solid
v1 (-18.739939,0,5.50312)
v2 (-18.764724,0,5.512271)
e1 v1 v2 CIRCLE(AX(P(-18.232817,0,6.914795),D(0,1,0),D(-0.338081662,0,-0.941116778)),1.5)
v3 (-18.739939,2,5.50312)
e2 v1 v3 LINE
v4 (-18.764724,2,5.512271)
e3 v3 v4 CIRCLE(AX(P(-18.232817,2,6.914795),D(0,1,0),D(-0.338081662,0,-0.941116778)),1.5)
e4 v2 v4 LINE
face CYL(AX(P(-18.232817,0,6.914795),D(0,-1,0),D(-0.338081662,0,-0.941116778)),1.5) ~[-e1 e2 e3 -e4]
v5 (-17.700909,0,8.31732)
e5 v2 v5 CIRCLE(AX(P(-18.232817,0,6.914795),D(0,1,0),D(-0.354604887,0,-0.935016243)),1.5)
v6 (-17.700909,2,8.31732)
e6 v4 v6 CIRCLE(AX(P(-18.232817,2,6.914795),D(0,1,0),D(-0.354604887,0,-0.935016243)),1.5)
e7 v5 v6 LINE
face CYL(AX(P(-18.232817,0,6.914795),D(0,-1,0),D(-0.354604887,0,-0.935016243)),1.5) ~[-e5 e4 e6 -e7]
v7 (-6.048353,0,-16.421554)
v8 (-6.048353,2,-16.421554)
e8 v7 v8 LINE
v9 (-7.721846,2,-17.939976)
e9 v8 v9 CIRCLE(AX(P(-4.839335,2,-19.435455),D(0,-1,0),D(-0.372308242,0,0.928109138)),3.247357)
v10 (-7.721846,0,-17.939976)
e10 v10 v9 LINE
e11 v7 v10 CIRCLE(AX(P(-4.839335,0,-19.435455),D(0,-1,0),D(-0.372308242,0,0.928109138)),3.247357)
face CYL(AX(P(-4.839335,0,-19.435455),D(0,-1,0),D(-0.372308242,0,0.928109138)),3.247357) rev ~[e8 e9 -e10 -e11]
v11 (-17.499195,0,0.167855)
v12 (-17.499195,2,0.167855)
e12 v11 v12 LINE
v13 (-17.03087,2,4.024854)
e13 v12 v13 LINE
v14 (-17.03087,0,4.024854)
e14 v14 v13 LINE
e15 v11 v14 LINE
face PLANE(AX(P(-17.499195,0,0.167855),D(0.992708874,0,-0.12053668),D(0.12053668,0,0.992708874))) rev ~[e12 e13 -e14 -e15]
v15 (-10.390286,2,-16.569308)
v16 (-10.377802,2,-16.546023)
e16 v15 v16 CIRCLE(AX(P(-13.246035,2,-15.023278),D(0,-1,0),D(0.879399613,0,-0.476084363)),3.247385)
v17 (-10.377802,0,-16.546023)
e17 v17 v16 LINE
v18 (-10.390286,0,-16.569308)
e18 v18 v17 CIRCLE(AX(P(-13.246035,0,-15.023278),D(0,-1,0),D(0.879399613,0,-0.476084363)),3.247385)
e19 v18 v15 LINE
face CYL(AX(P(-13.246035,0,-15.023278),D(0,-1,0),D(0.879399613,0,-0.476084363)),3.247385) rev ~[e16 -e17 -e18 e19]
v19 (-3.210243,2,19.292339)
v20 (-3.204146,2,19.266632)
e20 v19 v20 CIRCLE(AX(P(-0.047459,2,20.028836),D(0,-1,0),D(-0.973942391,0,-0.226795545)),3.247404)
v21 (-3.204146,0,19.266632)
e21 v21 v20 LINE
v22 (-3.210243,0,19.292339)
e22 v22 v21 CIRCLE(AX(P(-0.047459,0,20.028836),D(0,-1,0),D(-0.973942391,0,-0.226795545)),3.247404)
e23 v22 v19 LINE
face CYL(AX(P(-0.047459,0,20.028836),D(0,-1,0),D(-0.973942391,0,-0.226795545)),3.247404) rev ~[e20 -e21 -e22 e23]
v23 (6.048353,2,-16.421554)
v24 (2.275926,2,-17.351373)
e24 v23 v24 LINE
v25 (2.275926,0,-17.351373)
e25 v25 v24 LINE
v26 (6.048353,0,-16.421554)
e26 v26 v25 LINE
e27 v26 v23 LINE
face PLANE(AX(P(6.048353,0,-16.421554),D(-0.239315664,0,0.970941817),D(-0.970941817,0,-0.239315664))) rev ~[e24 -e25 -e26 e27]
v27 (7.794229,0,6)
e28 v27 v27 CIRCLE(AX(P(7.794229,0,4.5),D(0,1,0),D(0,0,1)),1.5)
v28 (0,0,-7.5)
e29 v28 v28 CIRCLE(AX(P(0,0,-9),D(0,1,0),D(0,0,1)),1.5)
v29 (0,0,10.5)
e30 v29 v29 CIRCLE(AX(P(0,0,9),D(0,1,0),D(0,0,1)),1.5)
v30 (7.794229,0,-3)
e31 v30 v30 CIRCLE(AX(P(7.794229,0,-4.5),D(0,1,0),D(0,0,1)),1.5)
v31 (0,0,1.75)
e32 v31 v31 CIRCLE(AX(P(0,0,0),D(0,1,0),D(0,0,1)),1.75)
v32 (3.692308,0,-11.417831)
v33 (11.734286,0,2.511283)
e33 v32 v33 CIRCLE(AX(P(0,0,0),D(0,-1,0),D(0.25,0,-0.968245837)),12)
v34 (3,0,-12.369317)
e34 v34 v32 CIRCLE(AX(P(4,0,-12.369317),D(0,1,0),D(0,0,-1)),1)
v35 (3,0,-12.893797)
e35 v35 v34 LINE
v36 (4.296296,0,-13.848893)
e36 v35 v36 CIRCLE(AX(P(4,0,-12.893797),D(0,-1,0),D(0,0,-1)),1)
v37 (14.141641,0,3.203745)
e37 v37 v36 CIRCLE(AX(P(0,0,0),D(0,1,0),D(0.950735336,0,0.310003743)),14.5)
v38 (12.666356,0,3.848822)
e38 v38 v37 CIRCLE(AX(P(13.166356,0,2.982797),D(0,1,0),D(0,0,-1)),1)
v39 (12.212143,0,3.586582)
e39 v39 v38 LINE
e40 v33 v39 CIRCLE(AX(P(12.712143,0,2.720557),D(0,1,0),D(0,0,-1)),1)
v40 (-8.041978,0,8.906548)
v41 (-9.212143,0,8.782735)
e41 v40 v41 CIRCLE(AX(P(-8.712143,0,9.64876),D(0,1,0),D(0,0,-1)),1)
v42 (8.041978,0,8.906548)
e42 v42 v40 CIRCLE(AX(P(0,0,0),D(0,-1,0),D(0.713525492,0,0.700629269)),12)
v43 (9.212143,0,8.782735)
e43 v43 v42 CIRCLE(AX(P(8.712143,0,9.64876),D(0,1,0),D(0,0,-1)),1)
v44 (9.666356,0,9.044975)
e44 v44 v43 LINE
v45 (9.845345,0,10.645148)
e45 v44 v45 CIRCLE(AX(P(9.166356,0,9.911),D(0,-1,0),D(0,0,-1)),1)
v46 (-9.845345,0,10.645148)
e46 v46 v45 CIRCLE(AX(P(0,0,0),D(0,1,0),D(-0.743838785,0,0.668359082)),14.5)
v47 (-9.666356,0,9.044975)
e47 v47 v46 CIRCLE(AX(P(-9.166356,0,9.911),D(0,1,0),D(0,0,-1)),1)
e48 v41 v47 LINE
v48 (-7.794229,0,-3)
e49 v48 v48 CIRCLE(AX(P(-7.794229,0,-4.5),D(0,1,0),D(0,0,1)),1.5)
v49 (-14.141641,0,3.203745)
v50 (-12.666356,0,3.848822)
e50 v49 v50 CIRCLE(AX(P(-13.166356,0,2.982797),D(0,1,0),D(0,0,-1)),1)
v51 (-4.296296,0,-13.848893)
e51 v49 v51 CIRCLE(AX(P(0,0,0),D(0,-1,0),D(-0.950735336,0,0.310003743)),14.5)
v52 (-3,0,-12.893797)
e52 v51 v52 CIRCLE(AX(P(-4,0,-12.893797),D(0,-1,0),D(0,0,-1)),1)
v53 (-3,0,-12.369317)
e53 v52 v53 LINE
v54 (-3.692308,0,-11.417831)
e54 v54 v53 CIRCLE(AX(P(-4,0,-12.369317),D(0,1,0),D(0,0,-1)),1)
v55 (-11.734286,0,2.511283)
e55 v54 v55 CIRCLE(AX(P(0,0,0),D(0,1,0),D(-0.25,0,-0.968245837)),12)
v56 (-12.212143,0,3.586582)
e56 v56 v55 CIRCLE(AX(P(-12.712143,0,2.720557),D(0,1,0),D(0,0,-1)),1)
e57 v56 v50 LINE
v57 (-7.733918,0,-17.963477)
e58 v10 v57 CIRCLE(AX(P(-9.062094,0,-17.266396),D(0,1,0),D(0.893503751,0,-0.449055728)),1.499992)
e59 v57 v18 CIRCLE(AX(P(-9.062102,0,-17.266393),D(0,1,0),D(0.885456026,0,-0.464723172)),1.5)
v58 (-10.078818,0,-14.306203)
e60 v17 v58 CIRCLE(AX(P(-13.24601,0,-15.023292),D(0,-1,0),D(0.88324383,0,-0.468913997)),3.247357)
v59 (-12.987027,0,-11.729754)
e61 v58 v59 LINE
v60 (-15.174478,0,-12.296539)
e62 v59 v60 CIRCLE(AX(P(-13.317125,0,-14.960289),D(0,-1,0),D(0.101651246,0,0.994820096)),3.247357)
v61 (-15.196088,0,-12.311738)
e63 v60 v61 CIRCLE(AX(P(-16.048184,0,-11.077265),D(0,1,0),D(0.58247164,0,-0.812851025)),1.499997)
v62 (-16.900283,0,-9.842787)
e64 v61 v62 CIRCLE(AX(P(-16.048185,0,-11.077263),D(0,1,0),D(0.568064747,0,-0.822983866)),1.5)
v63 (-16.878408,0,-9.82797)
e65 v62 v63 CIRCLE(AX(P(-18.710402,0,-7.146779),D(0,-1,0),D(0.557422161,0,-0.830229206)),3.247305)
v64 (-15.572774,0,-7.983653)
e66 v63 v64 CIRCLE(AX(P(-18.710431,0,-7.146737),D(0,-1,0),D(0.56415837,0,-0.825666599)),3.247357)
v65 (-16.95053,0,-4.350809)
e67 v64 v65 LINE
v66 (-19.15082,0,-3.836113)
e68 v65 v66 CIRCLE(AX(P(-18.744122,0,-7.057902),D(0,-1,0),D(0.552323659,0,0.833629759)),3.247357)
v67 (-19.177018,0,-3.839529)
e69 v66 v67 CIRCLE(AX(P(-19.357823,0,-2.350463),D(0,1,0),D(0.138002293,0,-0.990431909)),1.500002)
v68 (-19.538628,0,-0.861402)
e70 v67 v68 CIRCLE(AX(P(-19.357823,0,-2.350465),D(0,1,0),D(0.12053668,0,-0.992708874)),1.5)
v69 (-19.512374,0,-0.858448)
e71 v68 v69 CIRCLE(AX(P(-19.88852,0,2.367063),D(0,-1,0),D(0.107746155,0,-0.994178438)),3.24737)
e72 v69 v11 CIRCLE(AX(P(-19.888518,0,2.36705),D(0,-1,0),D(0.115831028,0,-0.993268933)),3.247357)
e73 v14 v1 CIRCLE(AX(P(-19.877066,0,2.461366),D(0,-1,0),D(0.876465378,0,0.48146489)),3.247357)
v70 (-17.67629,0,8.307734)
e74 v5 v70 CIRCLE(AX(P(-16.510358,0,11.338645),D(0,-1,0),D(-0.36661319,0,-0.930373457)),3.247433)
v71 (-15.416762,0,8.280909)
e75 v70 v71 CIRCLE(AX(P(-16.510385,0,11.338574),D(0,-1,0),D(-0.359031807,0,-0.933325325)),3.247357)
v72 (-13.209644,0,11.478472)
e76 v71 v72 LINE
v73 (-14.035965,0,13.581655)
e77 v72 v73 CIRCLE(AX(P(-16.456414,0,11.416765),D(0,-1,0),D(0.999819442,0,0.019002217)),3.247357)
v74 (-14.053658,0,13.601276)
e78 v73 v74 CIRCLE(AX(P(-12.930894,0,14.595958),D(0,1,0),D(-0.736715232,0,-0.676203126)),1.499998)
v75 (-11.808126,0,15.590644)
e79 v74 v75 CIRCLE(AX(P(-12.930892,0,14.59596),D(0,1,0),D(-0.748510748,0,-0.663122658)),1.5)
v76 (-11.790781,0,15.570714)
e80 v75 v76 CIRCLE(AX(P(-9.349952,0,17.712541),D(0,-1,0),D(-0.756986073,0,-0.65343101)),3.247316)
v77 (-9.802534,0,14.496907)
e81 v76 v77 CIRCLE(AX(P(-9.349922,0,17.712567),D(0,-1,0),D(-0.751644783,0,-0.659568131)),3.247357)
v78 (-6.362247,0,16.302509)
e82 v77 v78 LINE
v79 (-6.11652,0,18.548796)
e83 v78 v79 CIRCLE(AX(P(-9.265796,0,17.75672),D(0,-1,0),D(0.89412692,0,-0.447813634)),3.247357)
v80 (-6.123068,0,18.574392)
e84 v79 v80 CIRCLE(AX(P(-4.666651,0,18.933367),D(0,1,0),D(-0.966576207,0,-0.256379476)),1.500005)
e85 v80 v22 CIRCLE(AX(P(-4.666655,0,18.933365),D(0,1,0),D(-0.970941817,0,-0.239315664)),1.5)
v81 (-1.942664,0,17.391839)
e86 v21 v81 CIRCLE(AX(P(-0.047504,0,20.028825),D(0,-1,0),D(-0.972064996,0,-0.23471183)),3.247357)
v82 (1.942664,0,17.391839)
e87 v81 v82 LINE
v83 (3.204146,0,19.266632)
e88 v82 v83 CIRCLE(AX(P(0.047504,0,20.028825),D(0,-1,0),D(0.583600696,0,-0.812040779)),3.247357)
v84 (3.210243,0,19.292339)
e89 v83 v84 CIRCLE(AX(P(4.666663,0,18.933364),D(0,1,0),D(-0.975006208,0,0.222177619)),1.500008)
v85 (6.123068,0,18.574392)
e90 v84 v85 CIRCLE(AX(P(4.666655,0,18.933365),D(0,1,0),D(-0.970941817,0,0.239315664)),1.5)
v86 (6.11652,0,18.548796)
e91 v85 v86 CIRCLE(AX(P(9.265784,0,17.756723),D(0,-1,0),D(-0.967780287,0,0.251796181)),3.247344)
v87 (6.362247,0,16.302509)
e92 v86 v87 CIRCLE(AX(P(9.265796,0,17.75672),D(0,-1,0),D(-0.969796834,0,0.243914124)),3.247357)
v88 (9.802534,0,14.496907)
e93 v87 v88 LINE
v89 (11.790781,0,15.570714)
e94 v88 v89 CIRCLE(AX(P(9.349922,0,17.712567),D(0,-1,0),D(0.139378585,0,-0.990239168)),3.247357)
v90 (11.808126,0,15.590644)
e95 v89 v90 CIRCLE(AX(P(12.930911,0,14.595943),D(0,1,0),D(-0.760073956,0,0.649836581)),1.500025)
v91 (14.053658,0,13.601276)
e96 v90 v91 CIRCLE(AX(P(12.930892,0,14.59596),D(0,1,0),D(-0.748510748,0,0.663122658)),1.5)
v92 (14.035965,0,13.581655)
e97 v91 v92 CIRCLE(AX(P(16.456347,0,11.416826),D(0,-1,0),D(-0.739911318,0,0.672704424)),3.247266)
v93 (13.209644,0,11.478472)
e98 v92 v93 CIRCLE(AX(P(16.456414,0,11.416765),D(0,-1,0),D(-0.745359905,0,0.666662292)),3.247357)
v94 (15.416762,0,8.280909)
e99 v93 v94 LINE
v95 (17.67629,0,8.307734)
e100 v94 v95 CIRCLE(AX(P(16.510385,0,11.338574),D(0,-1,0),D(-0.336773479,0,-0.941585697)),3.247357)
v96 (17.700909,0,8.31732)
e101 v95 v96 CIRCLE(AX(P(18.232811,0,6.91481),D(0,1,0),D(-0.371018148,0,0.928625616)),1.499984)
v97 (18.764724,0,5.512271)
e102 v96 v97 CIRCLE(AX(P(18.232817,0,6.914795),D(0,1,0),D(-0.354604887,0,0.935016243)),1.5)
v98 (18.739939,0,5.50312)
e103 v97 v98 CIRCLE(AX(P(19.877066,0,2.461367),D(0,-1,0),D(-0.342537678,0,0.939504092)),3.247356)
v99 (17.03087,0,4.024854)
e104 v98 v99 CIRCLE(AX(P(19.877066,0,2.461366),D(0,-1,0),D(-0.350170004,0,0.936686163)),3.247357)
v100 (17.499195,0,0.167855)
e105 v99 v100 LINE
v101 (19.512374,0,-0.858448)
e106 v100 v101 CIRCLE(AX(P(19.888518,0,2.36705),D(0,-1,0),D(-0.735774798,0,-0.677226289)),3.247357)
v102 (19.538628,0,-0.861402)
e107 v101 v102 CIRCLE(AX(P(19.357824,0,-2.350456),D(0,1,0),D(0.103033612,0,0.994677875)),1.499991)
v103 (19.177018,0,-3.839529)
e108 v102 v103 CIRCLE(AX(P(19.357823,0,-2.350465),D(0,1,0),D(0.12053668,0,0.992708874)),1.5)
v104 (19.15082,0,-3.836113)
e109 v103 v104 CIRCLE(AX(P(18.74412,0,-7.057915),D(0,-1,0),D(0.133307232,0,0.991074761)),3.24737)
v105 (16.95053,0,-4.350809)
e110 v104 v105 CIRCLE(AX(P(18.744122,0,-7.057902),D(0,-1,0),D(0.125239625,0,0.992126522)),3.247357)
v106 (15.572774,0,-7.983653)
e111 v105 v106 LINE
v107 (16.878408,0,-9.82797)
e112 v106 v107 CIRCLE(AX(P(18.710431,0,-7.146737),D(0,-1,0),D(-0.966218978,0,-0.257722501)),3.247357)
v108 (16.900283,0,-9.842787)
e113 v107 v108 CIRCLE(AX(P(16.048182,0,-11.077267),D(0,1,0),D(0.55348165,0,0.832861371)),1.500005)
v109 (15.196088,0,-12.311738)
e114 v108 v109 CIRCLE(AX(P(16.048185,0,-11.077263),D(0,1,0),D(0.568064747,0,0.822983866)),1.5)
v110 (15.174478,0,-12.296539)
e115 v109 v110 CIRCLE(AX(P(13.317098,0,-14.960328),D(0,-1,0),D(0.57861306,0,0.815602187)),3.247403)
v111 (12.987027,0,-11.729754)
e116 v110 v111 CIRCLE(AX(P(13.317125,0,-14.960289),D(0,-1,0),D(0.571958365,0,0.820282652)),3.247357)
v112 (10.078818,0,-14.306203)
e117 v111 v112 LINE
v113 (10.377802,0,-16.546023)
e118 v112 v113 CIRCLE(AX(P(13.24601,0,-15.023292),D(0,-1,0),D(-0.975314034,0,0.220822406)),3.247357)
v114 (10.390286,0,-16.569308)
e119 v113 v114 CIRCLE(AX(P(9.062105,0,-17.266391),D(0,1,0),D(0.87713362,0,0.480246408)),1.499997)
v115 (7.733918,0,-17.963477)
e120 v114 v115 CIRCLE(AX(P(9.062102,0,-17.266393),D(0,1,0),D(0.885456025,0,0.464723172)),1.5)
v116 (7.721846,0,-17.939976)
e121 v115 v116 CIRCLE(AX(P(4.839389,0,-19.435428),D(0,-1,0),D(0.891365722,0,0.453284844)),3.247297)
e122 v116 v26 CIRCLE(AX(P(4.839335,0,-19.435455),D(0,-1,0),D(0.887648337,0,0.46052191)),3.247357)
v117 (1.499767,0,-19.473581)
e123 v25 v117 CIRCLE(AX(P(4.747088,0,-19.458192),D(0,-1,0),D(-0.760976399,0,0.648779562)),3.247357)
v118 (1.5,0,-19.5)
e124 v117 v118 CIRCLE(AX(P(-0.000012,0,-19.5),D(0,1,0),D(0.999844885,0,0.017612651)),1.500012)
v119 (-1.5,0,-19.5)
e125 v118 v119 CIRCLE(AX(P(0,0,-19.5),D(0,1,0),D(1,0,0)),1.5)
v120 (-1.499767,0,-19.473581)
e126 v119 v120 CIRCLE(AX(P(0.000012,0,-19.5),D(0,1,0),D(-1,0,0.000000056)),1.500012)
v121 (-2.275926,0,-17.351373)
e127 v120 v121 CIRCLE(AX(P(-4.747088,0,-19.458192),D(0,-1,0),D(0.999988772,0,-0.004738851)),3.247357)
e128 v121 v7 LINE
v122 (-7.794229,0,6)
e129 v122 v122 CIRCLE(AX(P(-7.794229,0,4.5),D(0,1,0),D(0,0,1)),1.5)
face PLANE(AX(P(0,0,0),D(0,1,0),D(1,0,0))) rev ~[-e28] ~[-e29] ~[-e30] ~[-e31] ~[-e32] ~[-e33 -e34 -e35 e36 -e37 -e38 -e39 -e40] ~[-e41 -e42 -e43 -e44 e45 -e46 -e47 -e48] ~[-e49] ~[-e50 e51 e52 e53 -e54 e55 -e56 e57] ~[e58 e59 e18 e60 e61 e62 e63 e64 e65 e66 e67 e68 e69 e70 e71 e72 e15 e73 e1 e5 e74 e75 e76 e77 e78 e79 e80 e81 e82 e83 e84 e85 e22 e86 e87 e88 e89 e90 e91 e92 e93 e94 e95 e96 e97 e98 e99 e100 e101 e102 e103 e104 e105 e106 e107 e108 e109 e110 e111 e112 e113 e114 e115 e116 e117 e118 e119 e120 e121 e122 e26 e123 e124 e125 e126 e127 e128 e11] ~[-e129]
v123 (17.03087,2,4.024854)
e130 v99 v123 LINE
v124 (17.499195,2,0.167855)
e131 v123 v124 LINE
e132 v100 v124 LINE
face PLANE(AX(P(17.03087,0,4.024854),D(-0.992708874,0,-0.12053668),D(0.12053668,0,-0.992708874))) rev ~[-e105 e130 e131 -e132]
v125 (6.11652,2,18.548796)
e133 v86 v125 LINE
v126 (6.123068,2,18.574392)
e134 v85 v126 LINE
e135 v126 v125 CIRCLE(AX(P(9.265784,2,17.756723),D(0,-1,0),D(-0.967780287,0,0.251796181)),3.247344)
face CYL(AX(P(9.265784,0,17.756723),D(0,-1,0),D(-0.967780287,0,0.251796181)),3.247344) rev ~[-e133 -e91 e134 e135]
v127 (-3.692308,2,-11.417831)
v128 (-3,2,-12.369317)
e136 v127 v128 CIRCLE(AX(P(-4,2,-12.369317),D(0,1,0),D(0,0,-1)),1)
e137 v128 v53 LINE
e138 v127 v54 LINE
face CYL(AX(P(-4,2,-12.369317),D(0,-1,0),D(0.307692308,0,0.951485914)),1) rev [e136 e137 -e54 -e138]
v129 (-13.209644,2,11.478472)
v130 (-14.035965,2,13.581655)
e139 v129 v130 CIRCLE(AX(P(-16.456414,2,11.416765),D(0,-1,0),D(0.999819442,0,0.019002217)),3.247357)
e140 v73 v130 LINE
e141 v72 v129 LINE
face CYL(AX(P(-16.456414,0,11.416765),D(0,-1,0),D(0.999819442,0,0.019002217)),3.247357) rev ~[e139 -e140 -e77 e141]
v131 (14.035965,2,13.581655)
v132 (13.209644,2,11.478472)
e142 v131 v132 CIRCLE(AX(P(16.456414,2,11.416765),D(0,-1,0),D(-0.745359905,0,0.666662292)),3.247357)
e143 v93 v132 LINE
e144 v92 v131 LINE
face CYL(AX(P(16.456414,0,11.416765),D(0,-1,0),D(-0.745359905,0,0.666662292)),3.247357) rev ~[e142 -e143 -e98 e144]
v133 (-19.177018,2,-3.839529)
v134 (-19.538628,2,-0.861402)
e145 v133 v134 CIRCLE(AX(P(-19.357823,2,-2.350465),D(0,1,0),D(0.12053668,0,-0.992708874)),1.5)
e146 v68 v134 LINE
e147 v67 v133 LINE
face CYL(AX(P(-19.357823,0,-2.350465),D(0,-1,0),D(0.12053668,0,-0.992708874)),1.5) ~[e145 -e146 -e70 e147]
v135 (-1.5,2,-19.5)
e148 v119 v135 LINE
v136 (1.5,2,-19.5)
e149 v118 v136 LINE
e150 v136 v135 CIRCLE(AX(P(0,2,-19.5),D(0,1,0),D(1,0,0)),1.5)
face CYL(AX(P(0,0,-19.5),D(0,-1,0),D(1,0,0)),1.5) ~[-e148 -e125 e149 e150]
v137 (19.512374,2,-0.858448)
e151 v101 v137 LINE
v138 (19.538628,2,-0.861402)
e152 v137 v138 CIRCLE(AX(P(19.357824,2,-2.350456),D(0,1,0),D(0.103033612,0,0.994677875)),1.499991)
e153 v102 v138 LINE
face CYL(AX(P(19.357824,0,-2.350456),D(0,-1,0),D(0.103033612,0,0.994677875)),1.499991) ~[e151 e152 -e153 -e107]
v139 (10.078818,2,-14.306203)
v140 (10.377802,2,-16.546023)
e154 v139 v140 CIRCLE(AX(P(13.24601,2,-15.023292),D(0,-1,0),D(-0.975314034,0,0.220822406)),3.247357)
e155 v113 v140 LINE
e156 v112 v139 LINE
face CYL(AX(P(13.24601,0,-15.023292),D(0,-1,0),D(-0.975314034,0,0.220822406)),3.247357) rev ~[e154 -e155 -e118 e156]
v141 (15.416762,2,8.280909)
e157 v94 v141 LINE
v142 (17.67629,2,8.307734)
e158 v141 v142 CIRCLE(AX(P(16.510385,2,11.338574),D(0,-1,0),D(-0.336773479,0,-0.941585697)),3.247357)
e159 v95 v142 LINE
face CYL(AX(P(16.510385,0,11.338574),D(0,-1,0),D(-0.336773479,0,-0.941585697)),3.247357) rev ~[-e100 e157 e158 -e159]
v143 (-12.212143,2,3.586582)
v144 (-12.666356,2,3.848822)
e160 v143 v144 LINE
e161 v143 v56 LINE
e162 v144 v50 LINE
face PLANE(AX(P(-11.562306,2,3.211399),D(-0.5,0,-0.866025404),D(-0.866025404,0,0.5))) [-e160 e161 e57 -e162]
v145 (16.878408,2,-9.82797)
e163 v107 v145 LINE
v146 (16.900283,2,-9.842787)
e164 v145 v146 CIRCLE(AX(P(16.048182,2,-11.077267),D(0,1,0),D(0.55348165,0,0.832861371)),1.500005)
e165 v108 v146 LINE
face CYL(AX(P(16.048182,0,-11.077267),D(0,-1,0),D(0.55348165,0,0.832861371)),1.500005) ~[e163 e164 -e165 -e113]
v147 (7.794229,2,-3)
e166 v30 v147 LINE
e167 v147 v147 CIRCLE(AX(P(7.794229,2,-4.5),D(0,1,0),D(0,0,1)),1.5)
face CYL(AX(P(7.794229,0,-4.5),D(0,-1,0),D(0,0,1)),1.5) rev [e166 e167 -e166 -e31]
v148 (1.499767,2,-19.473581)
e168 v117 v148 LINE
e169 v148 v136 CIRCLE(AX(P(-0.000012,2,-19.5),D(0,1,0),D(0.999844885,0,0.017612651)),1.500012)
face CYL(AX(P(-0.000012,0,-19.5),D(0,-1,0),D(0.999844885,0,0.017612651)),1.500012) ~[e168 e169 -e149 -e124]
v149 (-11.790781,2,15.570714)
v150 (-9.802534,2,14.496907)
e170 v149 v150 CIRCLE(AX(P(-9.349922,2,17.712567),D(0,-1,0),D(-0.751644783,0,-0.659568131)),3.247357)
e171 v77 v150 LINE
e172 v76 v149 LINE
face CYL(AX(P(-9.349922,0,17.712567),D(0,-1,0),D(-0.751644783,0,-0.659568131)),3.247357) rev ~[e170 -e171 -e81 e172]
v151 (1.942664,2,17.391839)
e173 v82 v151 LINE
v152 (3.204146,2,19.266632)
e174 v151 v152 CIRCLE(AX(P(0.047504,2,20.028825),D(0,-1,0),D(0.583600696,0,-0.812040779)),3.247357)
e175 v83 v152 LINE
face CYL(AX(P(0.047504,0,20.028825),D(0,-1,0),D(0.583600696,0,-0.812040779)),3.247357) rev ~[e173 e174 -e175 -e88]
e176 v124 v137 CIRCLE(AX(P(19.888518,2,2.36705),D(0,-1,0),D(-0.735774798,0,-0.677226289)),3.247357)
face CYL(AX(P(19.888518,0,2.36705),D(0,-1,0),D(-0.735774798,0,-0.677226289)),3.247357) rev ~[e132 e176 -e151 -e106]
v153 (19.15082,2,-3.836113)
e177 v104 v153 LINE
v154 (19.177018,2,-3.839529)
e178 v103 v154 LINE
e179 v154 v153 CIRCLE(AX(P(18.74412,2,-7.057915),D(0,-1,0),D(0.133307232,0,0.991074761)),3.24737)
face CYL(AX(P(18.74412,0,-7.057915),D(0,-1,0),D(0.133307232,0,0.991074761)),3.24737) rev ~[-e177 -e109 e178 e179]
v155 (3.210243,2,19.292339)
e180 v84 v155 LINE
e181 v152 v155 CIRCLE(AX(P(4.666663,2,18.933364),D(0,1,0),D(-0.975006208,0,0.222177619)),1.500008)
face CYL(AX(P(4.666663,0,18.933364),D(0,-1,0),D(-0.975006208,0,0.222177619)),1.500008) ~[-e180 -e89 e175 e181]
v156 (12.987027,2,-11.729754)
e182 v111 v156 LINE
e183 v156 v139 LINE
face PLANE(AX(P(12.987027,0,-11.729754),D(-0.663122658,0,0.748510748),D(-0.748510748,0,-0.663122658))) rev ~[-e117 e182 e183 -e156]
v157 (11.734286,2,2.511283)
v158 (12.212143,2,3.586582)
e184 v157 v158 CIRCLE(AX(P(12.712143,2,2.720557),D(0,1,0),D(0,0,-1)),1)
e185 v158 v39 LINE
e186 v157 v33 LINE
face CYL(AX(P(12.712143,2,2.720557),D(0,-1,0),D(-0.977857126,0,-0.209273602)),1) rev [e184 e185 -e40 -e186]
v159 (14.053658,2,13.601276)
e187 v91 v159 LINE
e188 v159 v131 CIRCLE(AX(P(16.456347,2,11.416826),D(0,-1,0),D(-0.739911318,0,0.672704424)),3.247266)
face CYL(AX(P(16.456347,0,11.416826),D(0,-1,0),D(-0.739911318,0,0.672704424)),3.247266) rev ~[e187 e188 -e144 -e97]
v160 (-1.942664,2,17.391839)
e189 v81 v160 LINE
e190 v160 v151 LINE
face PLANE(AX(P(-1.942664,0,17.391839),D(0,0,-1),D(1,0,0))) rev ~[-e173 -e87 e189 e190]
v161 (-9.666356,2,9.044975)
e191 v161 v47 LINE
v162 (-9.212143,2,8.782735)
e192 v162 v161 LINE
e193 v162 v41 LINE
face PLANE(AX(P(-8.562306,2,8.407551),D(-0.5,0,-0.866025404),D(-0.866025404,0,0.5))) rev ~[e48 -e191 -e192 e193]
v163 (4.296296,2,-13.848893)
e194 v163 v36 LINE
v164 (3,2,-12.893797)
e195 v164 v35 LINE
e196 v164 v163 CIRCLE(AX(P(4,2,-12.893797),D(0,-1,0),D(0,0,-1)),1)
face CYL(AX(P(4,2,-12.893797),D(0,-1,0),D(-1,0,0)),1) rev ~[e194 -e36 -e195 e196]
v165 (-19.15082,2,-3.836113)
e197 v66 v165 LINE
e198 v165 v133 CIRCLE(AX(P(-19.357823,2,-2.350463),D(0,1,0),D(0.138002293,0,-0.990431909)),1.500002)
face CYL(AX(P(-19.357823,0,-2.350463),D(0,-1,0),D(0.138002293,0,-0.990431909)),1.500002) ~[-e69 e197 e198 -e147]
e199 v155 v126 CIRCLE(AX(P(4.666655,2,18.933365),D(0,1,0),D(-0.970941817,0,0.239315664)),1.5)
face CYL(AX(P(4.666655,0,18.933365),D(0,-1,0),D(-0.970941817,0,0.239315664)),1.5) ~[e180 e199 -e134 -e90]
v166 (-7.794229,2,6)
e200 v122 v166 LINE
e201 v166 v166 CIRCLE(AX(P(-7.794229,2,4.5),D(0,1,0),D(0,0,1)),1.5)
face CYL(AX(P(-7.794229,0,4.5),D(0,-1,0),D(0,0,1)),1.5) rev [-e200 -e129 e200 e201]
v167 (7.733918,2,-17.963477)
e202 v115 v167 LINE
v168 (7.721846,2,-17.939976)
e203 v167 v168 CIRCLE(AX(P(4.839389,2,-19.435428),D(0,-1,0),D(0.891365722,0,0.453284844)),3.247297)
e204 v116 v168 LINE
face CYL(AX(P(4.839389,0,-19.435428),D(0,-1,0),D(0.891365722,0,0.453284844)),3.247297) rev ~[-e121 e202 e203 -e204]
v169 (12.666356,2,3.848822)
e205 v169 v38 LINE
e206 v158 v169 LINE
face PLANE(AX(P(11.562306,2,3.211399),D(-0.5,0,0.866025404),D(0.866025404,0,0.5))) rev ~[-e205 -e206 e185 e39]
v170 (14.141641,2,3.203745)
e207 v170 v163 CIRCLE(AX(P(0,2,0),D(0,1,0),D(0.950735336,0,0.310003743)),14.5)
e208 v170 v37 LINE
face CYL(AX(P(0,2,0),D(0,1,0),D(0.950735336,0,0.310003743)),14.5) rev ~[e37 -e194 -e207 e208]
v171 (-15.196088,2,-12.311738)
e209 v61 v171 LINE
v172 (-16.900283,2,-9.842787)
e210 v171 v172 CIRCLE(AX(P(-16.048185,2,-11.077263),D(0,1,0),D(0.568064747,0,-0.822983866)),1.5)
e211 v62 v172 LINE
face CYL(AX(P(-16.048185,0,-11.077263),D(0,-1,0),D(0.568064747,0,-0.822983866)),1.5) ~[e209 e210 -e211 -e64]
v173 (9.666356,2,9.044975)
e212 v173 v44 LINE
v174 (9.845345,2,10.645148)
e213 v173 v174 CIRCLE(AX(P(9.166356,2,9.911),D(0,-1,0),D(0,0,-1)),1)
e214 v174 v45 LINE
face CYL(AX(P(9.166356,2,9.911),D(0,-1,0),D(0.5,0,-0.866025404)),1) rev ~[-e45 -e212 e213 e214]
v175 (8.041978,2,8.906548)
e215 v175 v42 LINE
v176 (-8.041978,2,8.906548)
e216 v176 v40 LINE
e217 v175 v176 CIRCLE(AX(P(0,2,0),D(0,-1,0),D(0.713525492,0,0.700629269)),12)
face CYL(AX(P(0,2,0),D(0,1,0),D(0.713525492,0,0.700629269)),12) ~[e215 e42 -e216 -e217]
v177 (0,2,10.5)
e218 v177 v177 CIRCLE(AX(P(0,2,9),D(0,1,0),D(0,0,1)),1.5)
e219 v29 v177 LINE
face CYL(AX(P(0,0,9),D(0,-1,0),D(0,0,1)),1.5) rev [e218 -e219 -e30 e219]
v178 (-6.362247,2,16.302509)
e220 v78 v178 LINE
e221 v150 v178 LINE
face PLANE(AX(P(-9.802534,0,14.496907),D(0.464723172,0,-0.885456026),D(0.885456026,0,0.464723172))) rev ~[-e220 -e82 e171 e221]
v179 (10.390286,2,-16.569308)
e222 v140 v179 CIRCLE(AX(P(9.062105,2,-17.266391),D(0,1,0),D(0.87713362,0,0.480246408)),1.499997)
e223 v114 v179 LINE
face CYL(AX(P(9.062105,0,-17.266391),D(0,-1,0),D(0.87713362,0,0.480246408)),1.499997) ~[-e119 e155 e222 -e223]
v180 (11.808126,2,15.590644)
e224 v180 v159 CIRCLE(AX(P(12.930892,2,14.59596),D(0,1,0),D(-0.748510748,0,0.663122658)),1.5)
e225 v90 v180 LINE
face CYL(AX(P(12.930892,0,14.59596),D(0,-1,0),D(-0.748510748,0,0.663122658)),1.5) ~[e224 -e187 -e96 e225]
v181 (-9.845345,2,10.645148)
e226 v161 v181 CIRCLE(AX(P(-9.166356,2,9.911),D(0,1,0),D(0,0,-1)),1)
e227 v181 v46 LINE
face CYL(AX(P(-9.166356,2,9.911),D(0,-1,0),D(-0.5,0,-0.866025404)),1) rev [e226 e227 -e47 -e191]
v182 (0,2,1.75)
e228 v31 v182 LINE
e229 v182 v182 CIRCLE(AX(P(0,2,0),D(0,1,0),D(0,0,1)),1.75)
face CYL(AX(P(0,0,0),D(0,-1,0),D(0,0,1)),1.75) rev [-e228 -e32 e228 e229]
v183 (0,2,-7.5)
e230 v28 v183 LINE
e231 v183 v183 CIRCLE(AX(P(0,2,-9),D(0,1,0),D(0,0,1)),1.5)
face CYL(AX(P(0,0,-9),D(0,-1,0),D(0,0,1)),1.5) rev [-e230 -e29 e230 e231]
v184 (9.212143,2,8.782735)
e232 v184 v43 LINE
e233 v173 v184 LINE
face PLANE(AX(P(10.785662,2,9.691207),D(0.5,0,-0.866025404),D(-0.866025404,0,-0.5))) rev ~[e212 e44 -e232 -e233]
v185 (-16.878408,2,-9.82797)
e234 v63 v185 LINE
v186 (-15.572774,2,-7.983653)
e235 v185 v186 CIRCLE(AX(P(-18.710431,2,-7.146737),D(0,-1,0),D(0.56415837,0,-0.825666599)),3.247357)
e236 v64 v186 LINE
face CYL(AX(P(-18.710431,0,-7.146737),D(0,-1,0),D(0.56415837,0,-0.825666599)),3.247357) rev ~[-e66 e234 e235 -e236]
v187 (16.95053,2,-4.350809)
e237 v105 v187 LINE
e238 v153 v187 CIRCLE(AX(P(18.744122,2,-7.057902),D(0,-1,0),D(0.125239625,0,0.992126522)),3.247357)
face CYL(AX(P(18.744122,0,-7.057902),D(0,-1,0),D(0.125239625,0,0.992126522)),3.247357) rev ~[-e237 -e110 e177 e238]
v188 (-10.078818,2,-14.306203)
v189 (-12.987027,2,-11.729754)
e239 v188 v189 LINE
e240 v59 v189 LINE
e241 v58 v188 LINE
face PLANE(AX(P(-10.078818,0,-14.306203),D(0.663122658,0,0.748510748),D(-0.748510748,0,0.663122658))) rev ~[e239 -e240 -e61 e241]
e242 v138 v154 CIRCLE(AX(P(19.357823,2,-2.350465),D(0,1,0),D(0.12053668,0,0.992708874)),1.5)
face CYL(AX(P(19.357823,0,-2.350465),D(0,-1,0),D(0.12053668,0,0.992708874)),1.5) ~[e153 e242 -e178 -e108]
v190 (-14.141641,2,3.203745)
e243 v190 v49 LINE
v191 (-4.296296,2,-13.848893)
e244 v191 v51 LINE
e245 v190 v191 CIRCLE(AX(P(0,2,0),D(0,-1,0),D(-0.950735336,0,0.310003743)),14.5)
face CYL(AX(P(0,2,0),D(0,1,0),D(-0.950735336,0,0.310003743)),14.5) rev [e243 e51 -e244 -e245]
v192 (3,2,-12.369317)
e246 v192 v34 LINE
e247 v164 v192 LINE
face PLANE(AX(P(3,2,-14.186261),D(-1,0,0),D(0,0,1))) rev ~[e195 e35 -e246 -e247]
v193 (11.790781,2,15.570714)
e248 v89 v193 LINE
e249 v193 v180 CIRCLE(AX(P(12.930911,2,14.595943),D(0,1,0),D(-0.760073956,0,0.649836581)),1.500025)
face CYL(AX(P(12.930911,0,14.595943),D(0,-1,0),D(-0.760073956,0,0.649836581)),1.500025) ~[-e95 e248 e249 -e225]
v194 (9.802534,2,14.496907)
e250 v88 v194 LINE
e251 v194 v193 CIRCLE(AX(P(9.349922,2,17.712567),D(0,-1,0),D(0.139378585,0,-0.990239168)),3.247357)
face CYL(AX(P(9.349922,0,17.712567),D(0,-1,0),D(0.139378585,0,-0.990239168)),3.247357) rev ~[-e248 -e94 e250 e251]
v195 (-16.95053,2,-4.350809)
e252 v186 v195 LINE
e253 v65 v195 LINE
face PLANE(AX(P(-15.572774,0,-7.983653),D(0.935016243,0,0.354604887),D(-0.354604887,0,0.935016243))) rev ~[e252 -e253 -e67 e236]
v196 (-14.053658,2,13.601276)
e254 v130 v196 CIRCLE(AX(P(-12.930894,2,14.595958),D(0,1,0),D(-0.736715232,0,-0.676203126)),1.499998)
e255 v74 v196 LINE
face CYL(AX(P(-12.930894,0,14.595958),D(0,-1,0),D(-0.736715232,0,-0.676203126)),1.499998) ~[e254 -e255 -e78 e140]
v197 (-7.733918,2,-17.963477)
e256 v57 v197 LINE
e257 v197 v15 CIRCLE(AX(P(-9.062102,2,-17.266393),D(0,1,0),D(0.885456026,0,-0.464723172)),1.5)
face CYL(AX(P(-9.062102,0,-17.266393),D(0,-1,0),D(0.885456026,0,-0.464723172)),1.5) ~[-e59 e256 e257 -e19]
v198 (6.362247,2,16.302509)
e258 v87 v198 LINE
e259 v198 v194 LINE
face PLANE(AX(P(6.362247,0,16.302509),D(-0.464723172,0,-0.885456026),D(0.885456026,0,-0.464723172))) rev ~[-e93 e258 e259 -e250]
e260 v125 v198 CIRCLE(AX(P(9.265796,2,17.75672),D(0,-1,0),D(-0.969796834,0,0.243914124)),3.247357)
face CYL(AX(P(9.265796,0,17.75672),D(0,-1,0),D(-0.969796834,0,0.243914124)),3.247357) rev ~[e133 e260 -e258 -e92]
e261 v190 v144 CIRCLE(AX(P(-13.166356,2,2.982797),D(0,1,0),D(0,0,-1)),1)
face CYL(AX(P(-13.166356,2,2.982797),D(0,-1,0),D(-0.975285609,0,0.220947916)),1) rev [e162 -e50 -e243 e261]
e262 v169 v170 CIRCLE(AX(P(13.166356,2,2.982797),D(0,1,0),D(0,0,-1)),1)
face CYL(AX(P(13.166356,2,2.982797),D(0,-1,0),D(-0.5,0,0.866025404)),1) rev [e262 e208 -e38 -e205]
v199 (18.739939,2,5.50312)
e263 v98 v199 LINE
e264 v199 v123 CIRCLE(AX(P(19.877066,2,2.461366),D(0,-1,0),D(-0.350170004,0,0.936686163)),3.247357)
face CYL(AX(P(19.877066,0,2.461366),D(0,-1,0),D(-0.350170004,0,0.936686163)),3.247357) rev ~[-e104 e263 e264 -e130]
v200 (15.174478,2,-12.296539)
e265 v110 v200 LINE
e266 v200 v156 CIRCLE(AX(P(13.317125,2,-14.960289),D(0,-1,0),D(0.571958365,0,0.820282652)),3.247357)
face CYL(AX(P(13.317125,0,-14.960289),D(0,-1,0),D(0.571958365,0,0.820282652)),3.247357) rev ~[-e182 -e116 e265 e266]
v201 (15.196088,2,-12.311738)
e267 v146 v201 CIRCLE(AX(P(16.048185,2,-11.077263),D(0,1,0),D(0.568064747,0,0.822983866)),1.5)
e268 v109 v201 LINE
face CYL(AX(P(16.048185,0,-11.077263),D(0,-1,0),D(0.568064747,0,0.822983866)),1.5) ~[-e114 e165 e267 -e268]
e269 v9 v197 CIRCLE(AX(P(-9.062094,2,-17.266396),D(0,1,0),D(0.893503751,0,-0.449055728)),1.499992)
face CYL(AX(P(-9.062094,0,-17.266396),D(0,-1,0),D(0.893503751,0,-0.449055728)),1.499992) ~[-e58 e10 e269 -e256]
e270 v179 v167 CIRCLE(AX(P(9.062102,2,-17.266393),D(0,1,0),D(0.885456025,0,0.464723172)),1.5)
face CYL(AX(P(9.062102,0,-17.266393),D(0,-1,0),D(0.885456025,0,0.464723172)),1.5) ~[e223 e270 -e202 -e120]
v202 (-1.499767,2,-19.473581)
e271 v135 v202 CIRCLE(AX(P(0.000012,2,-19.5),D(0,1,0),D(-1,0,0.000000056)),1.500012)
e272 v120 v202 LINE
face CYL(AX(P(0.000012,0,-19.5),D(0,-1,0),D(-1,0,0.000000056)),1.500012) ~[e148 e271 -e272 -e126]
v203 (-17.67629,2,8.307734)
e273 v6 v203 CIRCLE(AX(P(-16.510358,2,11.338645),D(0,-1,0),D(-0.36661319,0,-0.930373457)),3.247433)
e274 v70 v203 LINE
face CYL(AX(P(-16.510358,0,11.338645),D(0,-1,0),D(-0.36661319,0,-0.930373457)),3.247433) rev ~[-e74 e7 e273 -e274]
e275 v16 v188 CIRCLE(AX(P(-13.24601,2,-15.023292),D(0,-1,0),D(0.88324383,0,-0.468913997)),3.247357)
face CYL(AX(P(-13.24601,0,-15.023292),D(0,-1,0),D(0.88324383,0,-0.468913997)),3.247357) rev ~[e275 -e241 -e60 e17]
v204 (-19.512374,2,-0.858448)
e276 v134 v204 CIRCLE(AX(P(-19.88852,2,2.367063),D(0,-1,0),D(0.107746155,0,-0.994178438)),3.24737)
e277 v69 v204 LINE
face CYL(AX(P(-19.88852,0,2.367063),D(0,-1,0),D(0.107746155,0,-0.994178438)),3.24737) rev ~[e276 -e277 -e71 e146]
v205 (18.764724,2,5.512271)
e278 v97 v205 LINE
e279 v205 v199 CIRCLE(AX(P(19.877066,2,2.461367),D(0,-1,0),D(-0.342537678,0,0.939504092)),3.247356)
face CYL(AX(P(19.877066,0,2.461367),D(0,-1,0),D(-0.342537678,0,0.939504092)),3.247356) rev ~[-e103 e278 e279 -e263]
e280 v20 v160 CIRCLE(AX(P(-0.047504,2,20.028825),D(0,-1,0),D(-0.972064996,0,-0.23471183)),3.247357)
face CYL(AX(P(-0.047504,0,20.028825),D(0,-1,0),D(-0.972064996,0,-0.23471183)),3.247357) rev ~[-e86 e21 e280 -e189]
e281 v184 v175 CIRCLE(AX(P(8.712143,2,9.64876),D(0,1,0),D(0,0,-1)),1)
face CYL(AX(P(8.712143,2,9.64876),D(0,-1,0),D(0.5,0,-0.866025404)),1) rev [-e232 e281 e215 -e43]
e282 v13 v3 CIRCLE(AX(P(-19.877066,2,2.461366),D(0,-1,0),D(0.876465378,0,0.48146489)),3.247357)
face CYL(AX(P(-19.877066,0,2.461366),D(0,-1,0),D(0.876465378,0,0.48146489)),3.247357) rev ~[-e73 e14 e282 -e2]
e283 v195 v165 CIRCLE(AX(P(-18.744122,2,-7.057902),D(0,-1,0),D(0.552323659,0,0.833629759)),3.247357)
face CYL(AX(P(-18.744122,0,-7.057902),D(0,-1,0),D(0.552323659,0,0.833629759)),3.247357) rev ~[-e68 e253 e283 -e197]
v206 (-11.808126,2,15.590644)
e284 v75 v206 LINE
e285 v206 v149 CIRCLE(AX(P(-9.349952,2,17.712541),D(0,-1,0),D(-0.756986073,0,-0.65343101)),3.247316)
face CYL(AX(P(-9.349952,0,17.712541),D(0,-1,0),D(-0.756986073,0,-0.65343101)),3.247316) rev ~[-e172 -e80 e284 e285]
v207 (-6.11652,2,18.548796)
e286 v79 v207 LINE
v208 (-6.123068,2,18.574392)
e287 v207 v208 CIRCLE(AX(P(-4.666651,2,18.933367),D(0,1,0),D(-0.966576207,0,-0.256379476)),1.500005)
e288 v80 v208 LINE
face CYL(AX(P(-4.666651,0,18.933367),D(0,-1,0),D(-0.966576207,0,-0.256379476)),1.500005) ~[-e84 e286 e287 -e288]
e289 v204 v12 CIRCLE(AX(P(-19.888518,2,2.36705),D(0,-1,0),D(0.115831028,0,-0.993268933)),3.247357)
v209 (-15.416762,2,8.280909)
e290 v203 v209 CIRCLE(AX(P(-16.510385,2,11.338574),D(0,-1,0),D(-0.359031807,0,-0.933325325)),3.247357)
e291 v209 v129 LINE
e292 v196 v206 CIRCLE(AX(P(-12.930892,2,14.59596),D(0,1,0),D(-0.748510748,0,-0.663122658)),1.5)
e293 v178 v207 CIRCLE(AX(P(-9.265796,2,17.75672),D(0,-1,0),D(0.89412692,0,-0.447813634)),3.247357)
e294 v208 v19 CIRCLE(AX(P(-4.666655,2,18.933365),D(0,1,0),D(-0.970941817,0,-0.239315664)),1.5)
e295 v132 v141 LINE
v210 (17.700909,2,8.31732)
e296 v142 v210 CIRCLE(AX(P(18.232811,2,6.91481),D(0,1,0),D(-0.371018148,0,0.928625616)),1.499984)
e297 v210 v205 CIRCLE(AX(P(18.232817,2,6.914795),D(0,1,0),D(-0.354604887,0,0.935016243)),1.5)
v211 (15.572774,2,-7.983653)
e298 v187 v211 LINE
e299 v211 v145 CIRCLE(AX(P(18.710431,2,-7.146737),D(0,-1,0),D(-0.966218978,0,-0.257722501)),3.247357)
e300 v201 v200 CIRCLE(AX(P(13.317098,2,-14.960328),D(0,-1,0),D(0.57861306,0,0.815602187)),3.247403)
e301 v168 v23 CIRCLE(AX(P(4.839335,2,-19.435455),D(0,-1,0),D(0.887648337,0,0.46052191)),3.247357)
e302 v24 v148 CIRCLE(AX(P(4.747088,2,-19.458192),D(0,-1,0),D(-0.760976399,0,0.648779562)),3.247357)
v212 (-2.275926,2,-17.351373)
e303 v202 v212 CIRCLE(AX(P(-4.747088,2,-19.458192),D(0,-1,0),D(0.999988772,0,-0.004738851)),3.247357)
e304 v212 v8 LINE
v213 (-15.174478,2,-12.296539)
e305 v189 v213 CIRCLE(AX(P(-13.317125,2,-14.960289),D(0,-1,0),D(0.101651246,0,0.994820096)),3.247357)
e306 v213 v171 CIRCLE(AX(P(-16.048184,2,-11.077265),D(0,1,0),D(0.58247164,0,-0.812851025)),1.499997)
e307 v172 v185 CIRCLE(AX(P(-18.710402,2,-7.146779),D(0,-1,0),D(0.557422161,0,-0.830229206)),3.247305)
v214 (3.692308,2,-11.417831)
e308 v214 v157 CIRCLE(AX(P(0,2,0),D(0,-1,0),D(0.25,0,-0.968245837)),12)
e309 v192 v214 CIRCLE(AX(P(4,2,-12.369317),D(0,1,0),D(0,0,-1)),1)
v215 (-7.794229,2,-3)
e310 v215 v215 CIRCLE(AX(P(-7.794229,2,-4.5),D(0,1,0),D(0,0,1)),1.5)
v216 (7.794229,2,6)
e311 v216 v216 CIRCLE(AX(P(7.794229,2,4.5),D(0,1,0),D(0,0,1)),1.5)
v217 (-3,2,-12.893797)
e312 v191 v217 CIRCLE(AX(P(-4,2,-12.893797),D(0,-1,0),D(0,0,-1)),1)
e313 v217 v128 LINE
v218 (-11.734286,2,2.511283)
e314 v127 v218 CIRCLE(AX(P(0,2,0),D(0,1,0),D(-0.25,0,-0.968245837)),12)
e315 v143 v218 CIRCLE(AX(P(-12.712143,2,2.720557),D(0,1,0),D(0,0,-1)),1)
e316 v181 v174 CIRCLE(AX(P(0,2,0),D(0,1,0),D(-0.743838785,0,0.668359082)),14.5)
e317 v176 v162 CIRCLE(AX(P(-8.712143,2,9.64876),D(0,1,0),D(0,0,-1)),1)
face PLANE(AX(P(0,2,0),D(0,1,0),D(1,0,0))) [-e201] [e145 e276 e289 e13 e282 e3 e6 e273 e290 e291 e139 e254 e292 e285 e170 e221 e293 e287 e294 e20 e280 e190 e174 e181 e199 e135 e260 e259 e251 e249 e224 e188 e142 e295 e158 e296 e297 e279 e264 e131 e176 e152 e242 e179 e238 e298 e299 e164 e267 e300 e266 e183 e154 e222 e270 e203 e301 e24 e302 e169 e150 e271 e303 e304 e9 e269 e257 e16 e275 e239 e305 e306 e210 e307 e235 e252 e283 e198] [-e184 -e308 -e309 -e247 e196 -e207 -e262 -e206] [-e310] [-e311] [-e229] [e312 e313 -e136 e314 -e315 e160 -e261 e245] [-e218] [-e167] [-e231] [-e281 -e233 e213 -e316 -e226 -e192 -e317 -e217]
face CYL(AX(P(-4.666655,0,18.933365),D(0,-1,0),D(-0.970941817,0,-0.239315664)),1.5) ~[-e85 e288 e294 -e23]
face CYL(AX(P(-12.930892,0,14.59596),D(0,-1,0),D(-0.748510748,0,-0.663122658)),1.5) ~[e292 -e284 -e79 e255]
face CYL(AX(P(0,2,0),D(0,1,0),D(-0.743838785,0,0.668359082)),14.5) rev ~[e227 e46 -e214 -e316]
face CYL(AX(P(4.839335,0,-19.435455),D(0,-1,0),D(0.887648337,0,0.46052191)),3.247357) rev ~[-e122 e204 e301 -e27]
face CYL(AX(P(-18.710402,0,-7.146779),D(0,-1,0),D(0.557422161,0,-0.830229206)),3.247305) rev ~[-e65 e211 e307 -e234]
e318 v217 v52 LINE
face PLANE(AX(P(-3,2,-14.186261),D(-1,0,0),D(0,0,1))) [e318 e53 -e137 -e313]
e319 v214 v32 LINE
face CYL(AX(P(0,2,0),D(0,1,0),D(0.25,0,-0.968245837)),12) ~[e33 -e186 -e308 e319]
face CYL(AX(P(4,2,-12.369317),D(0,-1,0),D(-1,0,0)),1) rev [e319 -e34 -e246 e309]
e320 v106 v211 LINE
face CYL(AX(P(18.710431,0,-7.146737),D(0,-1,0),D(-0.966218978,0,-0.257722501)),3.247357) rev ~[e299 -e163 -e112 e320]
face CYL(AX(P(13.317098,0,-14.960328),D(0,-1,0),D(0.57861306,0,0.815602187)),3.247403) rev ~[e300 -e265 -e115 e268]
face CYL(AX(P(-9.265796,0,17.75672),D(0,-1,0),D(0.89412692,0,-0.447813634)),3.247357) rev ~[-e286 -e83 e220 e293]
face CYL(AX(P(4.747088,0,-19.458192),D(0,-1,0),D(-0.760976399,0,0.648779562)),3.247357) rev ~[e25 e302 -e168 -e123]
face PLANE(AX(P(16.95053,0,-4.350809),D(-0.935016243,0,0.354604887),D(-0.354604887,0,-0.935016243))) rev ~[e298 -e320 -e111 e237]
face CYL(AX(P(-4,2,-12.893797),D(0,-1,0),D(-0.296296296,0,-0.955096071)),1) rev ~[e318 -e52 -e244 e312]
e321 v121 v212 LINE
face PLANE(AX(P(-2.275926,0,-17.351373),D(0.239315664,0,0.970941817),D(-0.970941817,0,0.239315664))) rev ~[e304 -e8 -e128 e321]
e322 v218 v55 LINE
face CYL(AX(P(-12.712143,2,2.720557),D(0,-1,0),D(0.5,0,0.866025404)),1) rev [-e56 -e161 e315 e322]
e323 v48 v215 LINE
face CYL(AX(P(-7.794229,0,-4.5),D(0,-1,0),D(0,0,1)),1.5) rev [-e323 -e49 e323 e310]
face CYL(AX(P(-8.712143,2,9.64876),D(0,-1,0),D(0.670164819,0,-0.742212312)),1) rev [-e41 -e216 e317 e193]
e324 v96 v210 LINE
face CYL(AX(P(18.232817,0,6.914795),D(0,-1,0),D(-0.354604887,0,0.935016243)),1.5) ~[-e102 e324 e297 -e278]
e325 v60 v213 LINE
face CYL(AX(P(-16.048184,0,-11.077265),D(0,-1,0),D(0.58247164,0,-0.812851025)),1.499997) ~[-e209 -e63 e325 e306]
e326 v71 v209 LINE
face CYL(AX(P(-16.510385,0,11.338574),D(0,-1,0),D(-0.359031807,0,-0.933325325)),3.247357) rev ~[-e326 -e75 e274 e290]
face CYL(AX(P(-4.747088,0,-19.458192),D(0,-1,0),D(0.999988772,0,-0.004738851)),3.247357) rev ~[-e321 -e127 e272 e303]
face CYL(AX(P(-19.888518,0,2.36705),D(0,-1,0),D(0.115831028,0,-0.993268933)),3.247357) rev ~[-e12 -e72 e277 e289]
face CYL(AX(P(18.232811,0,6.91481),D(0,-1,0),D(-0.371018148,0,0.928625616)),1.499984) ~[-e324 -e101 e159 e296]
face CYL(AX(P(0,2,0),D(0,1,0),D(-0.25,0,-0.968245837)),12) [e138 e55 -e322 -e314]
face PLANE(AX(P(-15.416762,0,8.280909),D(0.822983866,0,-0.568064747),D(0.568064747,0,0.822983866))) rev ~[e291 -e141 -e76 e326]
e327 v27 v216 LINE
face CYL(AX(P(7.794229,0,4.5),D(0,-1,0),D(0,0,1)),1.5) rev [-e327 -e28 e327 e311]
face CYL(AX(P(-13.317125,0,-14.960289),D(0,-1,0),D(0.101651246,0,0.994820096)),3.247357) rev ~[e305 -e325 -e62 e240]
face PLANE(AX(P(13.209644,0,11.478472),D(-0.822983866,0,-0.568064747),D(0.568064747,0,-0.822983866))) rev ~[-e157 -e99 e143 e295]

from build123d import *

# Parameters (mm, degrees)
SKETCH1_R           = 1.5
SKETCH1_R_2         = 1.75
BOSS_EXTRUDE3_DEPTH = 2
CUT_EXTRUDE1_DEPTH  = 2
FILLET1_R           = 1


with BuildPart() as part:
    # Sketch1 → Boss-Extrude3 (new body)
    with BuildSketch(Plane(origin=(0, 0, 0), x_dir=(1, 0, 0), z_dir=(0, 1, 0))):
        with BuildLine():
            Line((6.048353149, 16.421553647), (2.27592576, 17.351373488))
            ThreePointArc((2.27592576, 17.351373488), (1.69730064, 18.342788524), (1.499767326, 19.473580897))
            ThreePointArc((1.499767326, 19.473580897), (1.49994183, 19.486789936), (1.5, 19.5))
            ThreePointArc((1.5, 19.5), (0, 21), (-1.5, 19.5))
            ThreePointArc((-1.5, 19.5), (-1.49994183, 19.486789936), (-1.499767326, 19.473580897))
            ThreePointArc((-1.499767326, 19.473580897), (-1.69730064, 18.342788524), (-2.27592576, 17.351373488))
            Line((-2.27592576, 17.351373488), (-6.048353149, 16.421553647))
            ThreePointArc((-6.048353149, 16.421553647), (-7.021433788, 17.030507563), (-7.72184627, 17.939976175))
            ThreePointArc((-7.72184627, 17.939976175), (-7.7278303, 17.951753295), (-7.733917816, 17.963477258))
            ThreePointArc((-7.733917816, 17.963477258), (-9.759186613, 18.594576539), (-10.390285893, 16.569307742))
            ThreePointArc((-10.390285893, 16.569307742), (-10.384020417, 16.557678026), (-10.377802301, 16.546022918))
            ThreePointArc((-10.377802301, 16.546022918), (-10.027203946, 15.452957688), (-10.078817505, 14.30620277))
            Line((-10.078817505, 14.30620277), (-12.987027242, 11.729753767))
            ThreePointArc((-12.987027242, 11.729753767), (-14.131642352, 11.81674256), (-15.174477944, 12.296539112))
            ThreePointArc((-15.174477944, 12.296539112), (-15.18524964, 12.304186316), (-15.196088265, 12.31173836))
            ThreePointArc((-15.196088265, 12.31173836), (-17.282661184, 11.929359681), (-16.900282505, 9.842786762))
            ThreePointArc((-16.900282505, 9.842786762), (-16.889330102, 9.835400872), (-16.878407836, 9.827970489))
            ThreePointArc((-16.878407836, 9.827970489), (-16.059995669, 9.023040475), (-15.572773623, 7.983653406))
            Line((-15.572773623, 7.983653406), (-16.950529904, 4.350808657))
            ThreePointArc((-16.950529904, 4.350808657), (-18.004461959, 3.895904243), (-19.150819593, 3.836113127))
            ThreePointArc((-19.150819593, 3.836113127), (-19.163911289, 3.837878533), (-19.177018025, 3.839528576))
            ThreePointArc((-19.177018025, 3.839528576), (-20.846886356, 2.531270285), (-19.538628065, 0.861401954))
            ThreePointArc((-19.538628065, 0.861401954), (-19.5254978, 0.859951908), (-19.512373542, 0.858448461))
            ThreePointArc((-19.512373542, 0.858448461), (-18.413635928, 0.526053428), (-17.499194975, -0.167854741))
            Line((-17.499194975, -0.167854741), (-17.030870442, -4.024854283))
            ThreePointArc((-17.030870442, -4.024854283), (-17.752676308, -4.917438785), (-18.739939265, -5.503120145))
            ThreePointArc((-18.739939265, -5.503120145), (-18.752351812, -5.50764097), (-18.764724063, -5.512270933))
            ThreePointArc((-18.764724063, -5.512270933), (-19.635341096, -7.446702628), (-17.700909402, -8.317319661))
            ThreePointArc((-17.700909402, -8.317319661), (-17.688609259, -8.312501675), (-17.676289619, -8.307733764))
            ThreePointArc((-17.676289619, -8.307733764), (-16.548934104, -8.09144612), (-15.416761648, -8.280909389))
            Line((-15.416761648, -8.280909389), (-13.209643805, -11.478471612))
            ThreePointArc((-13.209643805, -11.478471612), (-13.433966457, -12.604255849), (-14.035964693, -13.581654911))
            ThreePointArc((-14.035964693, -13.581654911), (-14.044854525, -13.591426301), (-14.053657958, -13.601275602))
            ThreePointArc((-14.053657958, -13.601275602), (-13.925575823, -15.718725712), (-11.808125713, -15.590643577))
            ThreePointArc((-11.808125713, -15.590643577), (-11.799473508, -15.5806613), (-11.790780767, -15.570714303))
            ThreePointArc((-11.790780767, -15.570714303), (-10.893070914, -14.855292874), (-9.802534018, -14.496907492))
            Line((-9.802534018, -14.496907492), (-6.362246966, -16.302509425))
            ThreePointArc((-6.362246966, -16.302509425), (-6.037696789, -17.403589796), (-6.116519761, -18.548796214))
            ThreePointArc((-6.116519761, -18.548796214), (-6.119850325, -18.561579661), (-6.12306818, -18.574391943))
            ThreePointArc((-6.12306818, -18.574391943), (-5.02562895, -20.389778166), (-3.210242727, -19.292338936))
            ThreePointArc((-3.210242727, -19.292338936), (-3.207220575, -19.279479189), (-3.204146136, -19.266631842))
            ThreePointArc((-3.204146136, -19.266631842), (-2.741736452, -18.215971056), (-1.942663979, -17.391838795))
            Line((-1.942663979, -17.391838795), (1.942663979, -17.391838795))
            ThreePointArc((1.942663979, -17.391838795), (2.741736452, -18.215971056), (3.204146136, -19.266631842))
            ThreePointArc((3.204146136, -19.266631842), (3.207137832, -19.279498812), (3.210242727, -19.292338936))
            ThreePointArc((3.210242727, -19.292338936), (5.02562895, -20.389778166), (6.12306818, -18.574391943))
            ThreePointArc((6.12306818, -18.574391943), (6.11976794, -18.561600739), (6.116519761, -18.548796214))
            ThreePointArc((6.116519761, -18.548796214), (6.037696789, -17.403589796), (6.362246966, -16.302509425))
            Line((6.362246966, -16.302509425), (9.802534018, -14.496907492))
            ThreePointArc((9.802534018, -14.496907492), (10.893070914, -14.855292874), (11.790780767, -15.570714303))
            ThreePointArc((11.790780767, -15.570714303), (11.799409362, -15.580717128), (11.808125713, -15.590643577))
            ThreePointArc((11.808125713, -15.590643577), (13.925575823, -15.718725712), (14.053657958, -13.601275602))
            ThreePointArc((14.053657958, -13.601275602), (14.044791371, -13.591483251), (14.035964693, -13.581654911))
            ThreePointArc((14.035964693, -13.581654911), (13.433966458, -12.604255849), (13.209643805, -11.478471612))
            Line((13.209643805, -11.478471612), (15.416761648, -8.280909389))
            ThreePointArc((15.416761648, -8.280909389), (16.548934104, -8.09144612), (17.676289619, -8.307733764))
            ThreePointArc((17.676289619, -8.307733764), (17.688578405, -8.312580919), (17.700909402, -8.317319661))
            ThreePointArc((17.700909402, -8.317319661), (19.635341096, -7.446702628), (18.764724063, -5.512270933))
            ThreePointArc((18.764724063, -5.512270933), (18.752322358, -5.507720745), (18.739939265, -5.503120145))
            ThreePointArc((18.739939265, -5.503120145), (17.752676308, -4.917438785), (17.030870442, -4.024854283))
            Line((17.030870442, -4.024854283), (17.499194975, -0.167854741))
            ThreePointArc((17.499194975, -0.167854741), (18.413635928, 0.526053428), (19.512373542, 0.858448461))
            ThreePointArc((19.512373542, 0.858448461), (19.525507306, 0.859867402), (19.538628065, 0.861401954))
            ThreePointArc((19.538628065, 0.861401954), (20.846886356, 2.531270285), (19.177018025, 3.839528576))
            ThreePointArc((19.177018025, 3.839528576), (19.163922282, 3.837794208), (19.150819593, 3.836113127))
            ThreePointArc((19.150819593, 3.836113127), (18.004461959, 3.895904243), (16.950529904, 4.350808657))
            Line((16.950529904, 4.350808657), (15.572773623, 7.983653406))
            ThreePointArc((15.572773623, 7.983653406), (16.059995669, 9.023040475), (16.878407836, 9.827970489))
            ThreePointArc((16.878407836, 9.827970489), (16.889377792, 9.835330464), (16.900282505, 9.842786762))
            ThreePointArc((16.900282505, 9.842786762), (17.282661184, 11.929359681), (15.196088265, 12.31173836))
            ThreePointArc((15.196088265, 12.31173836), (15.185298562, 12.304116759), (15.174477944, 12.296539112))
            ThreePointArc((15.174477944, 12.296539112), (14.131642352, 11.81674256), (12.987027242, 11.729753767))
            Line((12.987027242, 11.729753767), (10.078817505, 14.30620277))
            ThreePointArc((10.078817505, 14.30620277), (10.027203946, 15.452957688), (10.377802301, 16.546022918))
            ThreePointArc((10.377802301, 16.546022918), (10.384095364, 16.557637845), (10.390285893, 16.569307742))
            ThreePointArc((10.390285893, 16.569307742), (9.759186613, 18.594576539), (7.733917816, 17.963477258))
            ThreePointArc((7.733917816, 17.963477258), (7.727905944, 17.95171444), (7.72184627, 17.939976175))
            ThreePointArc((7.72184627, 17.939976175), (7.021433788, 17.030507563), (6.048353149, 16.421553647))
        make_face()
        with Locations(Location((0, -9, 0), (0, 0, 270))):
            Circle(SKETCH1_R, mode=Mode.SUBTRACT)
        with Locations(Location((-7.794228634, -4.5, 0), (0, 0, 270))):
            Circle(SKETCH1_R, mode=Mode.SUBTRACT)
        with Locations(Location((0, 0, 0), (0, 0, 270))):
            Circle(SKETCH1_R_2, mode=Mode.SUBTRACT)
        with Locations(Location((7.794228634, -4.5, 0), (0, 0, 270))):
            Circle(SKETCH1_R, mode=Mode.SUBTRACT)
        with Locations(Location((-7.794228634, 4.5, 0), (0, 0, 270))):
            Circle(SKETCH1_R, mode=Mode.SUBTRACT)
        with Locations(Location((0, 9, 0), (0, 0, 270))):
            Circle(SKETCH1_R, mode=Mode.SUBTRACT)
        with Locations(Location((7.794228634, 4.5, 0), (0, 0, 270))):
            Circle(SKETCH1_R, mode=Mode.SUBTRACT)
    extrude(amount=BOSS_EXTRUDE3_DEPTH)

    # Sketch3 → Cut-Extrude1 (cut)
    with BuildSketch(Plane(origin=(0, 2, 0), x_dir=(1, 0, 0), z_dir=(0, 1, 0))):
        with BuildLine():
            Line((-3, 14.186260959), (-3, 11.618950039))
            ThreePointArc((-3, 11.618950039), (-10.392304845, 6), (-11.562305899, -3.211398808))
            Line((-11.562305899, -3.211398808), (-13.785662375, -4.495054268))
            ThreePointArc((-13.785662375, -4.495054268), (-12.557368355, 7.25), (-3, 14.186260959))
        make_face()
        with BuildLine():
            Line((3, 14.186260959), (3, 11.618950039))
            ThreePointArc((3, 11.618950039), (10.392304845, 6), (11.562305899, -3.211398808))
            Line((11.562305899, -3.211398808), (13.785662375, -4.495054268))
            ThreePointArc((13.785662375, -4.495054268), (12.557368355, 7.25), (3, 14.186260959))
        make_face()
        with BuildLine():
            Line((10.785662375, -9.691206691), (8.562305899, -8.407551231))
            ThreePointArc((8.562305899, -8.407551231), (0, -12), (-8.562305899, -8.407551231))
            Line((-8.562305899, -8.407551231), (-10.785662375, -9.691206691))
            ThreePointArc((-10.785662375, -9.691206691), (0, -14.5), (10.785662375, -9.691206691))
        make_face()
    extrude(amount=-CUT_EXTRUDE1_DEPTH, mode=Mode.SUBTRACT)

    # Fillet1
    fillet1_edges = [part.edges().sort_by_distance(p)[0] for p in [
        (-8.562305899, 1, 8.407551231),
        (8.562305899, 1, 8.407551231),
        (10.785662375, 1, 9.691206691),
        (-10.785662375, 1, 9.691206691),
        (11.562305899, 1, 3.211398808),
        (3, 1, -11.618950039),
        (3, 1, -14.186260959),
        (13.785662375, 1, 4.495054268),
        (-3, 1, -11.618950039),
        (-11.562305899, 1, 3.211398808),
        (-13.785662375, 1, 4.495054268),
        (-3, 1, -14.186260959),
    ]]
    fillet(fillet1_edges, radius=FILLET1_R)


solid = part.part
